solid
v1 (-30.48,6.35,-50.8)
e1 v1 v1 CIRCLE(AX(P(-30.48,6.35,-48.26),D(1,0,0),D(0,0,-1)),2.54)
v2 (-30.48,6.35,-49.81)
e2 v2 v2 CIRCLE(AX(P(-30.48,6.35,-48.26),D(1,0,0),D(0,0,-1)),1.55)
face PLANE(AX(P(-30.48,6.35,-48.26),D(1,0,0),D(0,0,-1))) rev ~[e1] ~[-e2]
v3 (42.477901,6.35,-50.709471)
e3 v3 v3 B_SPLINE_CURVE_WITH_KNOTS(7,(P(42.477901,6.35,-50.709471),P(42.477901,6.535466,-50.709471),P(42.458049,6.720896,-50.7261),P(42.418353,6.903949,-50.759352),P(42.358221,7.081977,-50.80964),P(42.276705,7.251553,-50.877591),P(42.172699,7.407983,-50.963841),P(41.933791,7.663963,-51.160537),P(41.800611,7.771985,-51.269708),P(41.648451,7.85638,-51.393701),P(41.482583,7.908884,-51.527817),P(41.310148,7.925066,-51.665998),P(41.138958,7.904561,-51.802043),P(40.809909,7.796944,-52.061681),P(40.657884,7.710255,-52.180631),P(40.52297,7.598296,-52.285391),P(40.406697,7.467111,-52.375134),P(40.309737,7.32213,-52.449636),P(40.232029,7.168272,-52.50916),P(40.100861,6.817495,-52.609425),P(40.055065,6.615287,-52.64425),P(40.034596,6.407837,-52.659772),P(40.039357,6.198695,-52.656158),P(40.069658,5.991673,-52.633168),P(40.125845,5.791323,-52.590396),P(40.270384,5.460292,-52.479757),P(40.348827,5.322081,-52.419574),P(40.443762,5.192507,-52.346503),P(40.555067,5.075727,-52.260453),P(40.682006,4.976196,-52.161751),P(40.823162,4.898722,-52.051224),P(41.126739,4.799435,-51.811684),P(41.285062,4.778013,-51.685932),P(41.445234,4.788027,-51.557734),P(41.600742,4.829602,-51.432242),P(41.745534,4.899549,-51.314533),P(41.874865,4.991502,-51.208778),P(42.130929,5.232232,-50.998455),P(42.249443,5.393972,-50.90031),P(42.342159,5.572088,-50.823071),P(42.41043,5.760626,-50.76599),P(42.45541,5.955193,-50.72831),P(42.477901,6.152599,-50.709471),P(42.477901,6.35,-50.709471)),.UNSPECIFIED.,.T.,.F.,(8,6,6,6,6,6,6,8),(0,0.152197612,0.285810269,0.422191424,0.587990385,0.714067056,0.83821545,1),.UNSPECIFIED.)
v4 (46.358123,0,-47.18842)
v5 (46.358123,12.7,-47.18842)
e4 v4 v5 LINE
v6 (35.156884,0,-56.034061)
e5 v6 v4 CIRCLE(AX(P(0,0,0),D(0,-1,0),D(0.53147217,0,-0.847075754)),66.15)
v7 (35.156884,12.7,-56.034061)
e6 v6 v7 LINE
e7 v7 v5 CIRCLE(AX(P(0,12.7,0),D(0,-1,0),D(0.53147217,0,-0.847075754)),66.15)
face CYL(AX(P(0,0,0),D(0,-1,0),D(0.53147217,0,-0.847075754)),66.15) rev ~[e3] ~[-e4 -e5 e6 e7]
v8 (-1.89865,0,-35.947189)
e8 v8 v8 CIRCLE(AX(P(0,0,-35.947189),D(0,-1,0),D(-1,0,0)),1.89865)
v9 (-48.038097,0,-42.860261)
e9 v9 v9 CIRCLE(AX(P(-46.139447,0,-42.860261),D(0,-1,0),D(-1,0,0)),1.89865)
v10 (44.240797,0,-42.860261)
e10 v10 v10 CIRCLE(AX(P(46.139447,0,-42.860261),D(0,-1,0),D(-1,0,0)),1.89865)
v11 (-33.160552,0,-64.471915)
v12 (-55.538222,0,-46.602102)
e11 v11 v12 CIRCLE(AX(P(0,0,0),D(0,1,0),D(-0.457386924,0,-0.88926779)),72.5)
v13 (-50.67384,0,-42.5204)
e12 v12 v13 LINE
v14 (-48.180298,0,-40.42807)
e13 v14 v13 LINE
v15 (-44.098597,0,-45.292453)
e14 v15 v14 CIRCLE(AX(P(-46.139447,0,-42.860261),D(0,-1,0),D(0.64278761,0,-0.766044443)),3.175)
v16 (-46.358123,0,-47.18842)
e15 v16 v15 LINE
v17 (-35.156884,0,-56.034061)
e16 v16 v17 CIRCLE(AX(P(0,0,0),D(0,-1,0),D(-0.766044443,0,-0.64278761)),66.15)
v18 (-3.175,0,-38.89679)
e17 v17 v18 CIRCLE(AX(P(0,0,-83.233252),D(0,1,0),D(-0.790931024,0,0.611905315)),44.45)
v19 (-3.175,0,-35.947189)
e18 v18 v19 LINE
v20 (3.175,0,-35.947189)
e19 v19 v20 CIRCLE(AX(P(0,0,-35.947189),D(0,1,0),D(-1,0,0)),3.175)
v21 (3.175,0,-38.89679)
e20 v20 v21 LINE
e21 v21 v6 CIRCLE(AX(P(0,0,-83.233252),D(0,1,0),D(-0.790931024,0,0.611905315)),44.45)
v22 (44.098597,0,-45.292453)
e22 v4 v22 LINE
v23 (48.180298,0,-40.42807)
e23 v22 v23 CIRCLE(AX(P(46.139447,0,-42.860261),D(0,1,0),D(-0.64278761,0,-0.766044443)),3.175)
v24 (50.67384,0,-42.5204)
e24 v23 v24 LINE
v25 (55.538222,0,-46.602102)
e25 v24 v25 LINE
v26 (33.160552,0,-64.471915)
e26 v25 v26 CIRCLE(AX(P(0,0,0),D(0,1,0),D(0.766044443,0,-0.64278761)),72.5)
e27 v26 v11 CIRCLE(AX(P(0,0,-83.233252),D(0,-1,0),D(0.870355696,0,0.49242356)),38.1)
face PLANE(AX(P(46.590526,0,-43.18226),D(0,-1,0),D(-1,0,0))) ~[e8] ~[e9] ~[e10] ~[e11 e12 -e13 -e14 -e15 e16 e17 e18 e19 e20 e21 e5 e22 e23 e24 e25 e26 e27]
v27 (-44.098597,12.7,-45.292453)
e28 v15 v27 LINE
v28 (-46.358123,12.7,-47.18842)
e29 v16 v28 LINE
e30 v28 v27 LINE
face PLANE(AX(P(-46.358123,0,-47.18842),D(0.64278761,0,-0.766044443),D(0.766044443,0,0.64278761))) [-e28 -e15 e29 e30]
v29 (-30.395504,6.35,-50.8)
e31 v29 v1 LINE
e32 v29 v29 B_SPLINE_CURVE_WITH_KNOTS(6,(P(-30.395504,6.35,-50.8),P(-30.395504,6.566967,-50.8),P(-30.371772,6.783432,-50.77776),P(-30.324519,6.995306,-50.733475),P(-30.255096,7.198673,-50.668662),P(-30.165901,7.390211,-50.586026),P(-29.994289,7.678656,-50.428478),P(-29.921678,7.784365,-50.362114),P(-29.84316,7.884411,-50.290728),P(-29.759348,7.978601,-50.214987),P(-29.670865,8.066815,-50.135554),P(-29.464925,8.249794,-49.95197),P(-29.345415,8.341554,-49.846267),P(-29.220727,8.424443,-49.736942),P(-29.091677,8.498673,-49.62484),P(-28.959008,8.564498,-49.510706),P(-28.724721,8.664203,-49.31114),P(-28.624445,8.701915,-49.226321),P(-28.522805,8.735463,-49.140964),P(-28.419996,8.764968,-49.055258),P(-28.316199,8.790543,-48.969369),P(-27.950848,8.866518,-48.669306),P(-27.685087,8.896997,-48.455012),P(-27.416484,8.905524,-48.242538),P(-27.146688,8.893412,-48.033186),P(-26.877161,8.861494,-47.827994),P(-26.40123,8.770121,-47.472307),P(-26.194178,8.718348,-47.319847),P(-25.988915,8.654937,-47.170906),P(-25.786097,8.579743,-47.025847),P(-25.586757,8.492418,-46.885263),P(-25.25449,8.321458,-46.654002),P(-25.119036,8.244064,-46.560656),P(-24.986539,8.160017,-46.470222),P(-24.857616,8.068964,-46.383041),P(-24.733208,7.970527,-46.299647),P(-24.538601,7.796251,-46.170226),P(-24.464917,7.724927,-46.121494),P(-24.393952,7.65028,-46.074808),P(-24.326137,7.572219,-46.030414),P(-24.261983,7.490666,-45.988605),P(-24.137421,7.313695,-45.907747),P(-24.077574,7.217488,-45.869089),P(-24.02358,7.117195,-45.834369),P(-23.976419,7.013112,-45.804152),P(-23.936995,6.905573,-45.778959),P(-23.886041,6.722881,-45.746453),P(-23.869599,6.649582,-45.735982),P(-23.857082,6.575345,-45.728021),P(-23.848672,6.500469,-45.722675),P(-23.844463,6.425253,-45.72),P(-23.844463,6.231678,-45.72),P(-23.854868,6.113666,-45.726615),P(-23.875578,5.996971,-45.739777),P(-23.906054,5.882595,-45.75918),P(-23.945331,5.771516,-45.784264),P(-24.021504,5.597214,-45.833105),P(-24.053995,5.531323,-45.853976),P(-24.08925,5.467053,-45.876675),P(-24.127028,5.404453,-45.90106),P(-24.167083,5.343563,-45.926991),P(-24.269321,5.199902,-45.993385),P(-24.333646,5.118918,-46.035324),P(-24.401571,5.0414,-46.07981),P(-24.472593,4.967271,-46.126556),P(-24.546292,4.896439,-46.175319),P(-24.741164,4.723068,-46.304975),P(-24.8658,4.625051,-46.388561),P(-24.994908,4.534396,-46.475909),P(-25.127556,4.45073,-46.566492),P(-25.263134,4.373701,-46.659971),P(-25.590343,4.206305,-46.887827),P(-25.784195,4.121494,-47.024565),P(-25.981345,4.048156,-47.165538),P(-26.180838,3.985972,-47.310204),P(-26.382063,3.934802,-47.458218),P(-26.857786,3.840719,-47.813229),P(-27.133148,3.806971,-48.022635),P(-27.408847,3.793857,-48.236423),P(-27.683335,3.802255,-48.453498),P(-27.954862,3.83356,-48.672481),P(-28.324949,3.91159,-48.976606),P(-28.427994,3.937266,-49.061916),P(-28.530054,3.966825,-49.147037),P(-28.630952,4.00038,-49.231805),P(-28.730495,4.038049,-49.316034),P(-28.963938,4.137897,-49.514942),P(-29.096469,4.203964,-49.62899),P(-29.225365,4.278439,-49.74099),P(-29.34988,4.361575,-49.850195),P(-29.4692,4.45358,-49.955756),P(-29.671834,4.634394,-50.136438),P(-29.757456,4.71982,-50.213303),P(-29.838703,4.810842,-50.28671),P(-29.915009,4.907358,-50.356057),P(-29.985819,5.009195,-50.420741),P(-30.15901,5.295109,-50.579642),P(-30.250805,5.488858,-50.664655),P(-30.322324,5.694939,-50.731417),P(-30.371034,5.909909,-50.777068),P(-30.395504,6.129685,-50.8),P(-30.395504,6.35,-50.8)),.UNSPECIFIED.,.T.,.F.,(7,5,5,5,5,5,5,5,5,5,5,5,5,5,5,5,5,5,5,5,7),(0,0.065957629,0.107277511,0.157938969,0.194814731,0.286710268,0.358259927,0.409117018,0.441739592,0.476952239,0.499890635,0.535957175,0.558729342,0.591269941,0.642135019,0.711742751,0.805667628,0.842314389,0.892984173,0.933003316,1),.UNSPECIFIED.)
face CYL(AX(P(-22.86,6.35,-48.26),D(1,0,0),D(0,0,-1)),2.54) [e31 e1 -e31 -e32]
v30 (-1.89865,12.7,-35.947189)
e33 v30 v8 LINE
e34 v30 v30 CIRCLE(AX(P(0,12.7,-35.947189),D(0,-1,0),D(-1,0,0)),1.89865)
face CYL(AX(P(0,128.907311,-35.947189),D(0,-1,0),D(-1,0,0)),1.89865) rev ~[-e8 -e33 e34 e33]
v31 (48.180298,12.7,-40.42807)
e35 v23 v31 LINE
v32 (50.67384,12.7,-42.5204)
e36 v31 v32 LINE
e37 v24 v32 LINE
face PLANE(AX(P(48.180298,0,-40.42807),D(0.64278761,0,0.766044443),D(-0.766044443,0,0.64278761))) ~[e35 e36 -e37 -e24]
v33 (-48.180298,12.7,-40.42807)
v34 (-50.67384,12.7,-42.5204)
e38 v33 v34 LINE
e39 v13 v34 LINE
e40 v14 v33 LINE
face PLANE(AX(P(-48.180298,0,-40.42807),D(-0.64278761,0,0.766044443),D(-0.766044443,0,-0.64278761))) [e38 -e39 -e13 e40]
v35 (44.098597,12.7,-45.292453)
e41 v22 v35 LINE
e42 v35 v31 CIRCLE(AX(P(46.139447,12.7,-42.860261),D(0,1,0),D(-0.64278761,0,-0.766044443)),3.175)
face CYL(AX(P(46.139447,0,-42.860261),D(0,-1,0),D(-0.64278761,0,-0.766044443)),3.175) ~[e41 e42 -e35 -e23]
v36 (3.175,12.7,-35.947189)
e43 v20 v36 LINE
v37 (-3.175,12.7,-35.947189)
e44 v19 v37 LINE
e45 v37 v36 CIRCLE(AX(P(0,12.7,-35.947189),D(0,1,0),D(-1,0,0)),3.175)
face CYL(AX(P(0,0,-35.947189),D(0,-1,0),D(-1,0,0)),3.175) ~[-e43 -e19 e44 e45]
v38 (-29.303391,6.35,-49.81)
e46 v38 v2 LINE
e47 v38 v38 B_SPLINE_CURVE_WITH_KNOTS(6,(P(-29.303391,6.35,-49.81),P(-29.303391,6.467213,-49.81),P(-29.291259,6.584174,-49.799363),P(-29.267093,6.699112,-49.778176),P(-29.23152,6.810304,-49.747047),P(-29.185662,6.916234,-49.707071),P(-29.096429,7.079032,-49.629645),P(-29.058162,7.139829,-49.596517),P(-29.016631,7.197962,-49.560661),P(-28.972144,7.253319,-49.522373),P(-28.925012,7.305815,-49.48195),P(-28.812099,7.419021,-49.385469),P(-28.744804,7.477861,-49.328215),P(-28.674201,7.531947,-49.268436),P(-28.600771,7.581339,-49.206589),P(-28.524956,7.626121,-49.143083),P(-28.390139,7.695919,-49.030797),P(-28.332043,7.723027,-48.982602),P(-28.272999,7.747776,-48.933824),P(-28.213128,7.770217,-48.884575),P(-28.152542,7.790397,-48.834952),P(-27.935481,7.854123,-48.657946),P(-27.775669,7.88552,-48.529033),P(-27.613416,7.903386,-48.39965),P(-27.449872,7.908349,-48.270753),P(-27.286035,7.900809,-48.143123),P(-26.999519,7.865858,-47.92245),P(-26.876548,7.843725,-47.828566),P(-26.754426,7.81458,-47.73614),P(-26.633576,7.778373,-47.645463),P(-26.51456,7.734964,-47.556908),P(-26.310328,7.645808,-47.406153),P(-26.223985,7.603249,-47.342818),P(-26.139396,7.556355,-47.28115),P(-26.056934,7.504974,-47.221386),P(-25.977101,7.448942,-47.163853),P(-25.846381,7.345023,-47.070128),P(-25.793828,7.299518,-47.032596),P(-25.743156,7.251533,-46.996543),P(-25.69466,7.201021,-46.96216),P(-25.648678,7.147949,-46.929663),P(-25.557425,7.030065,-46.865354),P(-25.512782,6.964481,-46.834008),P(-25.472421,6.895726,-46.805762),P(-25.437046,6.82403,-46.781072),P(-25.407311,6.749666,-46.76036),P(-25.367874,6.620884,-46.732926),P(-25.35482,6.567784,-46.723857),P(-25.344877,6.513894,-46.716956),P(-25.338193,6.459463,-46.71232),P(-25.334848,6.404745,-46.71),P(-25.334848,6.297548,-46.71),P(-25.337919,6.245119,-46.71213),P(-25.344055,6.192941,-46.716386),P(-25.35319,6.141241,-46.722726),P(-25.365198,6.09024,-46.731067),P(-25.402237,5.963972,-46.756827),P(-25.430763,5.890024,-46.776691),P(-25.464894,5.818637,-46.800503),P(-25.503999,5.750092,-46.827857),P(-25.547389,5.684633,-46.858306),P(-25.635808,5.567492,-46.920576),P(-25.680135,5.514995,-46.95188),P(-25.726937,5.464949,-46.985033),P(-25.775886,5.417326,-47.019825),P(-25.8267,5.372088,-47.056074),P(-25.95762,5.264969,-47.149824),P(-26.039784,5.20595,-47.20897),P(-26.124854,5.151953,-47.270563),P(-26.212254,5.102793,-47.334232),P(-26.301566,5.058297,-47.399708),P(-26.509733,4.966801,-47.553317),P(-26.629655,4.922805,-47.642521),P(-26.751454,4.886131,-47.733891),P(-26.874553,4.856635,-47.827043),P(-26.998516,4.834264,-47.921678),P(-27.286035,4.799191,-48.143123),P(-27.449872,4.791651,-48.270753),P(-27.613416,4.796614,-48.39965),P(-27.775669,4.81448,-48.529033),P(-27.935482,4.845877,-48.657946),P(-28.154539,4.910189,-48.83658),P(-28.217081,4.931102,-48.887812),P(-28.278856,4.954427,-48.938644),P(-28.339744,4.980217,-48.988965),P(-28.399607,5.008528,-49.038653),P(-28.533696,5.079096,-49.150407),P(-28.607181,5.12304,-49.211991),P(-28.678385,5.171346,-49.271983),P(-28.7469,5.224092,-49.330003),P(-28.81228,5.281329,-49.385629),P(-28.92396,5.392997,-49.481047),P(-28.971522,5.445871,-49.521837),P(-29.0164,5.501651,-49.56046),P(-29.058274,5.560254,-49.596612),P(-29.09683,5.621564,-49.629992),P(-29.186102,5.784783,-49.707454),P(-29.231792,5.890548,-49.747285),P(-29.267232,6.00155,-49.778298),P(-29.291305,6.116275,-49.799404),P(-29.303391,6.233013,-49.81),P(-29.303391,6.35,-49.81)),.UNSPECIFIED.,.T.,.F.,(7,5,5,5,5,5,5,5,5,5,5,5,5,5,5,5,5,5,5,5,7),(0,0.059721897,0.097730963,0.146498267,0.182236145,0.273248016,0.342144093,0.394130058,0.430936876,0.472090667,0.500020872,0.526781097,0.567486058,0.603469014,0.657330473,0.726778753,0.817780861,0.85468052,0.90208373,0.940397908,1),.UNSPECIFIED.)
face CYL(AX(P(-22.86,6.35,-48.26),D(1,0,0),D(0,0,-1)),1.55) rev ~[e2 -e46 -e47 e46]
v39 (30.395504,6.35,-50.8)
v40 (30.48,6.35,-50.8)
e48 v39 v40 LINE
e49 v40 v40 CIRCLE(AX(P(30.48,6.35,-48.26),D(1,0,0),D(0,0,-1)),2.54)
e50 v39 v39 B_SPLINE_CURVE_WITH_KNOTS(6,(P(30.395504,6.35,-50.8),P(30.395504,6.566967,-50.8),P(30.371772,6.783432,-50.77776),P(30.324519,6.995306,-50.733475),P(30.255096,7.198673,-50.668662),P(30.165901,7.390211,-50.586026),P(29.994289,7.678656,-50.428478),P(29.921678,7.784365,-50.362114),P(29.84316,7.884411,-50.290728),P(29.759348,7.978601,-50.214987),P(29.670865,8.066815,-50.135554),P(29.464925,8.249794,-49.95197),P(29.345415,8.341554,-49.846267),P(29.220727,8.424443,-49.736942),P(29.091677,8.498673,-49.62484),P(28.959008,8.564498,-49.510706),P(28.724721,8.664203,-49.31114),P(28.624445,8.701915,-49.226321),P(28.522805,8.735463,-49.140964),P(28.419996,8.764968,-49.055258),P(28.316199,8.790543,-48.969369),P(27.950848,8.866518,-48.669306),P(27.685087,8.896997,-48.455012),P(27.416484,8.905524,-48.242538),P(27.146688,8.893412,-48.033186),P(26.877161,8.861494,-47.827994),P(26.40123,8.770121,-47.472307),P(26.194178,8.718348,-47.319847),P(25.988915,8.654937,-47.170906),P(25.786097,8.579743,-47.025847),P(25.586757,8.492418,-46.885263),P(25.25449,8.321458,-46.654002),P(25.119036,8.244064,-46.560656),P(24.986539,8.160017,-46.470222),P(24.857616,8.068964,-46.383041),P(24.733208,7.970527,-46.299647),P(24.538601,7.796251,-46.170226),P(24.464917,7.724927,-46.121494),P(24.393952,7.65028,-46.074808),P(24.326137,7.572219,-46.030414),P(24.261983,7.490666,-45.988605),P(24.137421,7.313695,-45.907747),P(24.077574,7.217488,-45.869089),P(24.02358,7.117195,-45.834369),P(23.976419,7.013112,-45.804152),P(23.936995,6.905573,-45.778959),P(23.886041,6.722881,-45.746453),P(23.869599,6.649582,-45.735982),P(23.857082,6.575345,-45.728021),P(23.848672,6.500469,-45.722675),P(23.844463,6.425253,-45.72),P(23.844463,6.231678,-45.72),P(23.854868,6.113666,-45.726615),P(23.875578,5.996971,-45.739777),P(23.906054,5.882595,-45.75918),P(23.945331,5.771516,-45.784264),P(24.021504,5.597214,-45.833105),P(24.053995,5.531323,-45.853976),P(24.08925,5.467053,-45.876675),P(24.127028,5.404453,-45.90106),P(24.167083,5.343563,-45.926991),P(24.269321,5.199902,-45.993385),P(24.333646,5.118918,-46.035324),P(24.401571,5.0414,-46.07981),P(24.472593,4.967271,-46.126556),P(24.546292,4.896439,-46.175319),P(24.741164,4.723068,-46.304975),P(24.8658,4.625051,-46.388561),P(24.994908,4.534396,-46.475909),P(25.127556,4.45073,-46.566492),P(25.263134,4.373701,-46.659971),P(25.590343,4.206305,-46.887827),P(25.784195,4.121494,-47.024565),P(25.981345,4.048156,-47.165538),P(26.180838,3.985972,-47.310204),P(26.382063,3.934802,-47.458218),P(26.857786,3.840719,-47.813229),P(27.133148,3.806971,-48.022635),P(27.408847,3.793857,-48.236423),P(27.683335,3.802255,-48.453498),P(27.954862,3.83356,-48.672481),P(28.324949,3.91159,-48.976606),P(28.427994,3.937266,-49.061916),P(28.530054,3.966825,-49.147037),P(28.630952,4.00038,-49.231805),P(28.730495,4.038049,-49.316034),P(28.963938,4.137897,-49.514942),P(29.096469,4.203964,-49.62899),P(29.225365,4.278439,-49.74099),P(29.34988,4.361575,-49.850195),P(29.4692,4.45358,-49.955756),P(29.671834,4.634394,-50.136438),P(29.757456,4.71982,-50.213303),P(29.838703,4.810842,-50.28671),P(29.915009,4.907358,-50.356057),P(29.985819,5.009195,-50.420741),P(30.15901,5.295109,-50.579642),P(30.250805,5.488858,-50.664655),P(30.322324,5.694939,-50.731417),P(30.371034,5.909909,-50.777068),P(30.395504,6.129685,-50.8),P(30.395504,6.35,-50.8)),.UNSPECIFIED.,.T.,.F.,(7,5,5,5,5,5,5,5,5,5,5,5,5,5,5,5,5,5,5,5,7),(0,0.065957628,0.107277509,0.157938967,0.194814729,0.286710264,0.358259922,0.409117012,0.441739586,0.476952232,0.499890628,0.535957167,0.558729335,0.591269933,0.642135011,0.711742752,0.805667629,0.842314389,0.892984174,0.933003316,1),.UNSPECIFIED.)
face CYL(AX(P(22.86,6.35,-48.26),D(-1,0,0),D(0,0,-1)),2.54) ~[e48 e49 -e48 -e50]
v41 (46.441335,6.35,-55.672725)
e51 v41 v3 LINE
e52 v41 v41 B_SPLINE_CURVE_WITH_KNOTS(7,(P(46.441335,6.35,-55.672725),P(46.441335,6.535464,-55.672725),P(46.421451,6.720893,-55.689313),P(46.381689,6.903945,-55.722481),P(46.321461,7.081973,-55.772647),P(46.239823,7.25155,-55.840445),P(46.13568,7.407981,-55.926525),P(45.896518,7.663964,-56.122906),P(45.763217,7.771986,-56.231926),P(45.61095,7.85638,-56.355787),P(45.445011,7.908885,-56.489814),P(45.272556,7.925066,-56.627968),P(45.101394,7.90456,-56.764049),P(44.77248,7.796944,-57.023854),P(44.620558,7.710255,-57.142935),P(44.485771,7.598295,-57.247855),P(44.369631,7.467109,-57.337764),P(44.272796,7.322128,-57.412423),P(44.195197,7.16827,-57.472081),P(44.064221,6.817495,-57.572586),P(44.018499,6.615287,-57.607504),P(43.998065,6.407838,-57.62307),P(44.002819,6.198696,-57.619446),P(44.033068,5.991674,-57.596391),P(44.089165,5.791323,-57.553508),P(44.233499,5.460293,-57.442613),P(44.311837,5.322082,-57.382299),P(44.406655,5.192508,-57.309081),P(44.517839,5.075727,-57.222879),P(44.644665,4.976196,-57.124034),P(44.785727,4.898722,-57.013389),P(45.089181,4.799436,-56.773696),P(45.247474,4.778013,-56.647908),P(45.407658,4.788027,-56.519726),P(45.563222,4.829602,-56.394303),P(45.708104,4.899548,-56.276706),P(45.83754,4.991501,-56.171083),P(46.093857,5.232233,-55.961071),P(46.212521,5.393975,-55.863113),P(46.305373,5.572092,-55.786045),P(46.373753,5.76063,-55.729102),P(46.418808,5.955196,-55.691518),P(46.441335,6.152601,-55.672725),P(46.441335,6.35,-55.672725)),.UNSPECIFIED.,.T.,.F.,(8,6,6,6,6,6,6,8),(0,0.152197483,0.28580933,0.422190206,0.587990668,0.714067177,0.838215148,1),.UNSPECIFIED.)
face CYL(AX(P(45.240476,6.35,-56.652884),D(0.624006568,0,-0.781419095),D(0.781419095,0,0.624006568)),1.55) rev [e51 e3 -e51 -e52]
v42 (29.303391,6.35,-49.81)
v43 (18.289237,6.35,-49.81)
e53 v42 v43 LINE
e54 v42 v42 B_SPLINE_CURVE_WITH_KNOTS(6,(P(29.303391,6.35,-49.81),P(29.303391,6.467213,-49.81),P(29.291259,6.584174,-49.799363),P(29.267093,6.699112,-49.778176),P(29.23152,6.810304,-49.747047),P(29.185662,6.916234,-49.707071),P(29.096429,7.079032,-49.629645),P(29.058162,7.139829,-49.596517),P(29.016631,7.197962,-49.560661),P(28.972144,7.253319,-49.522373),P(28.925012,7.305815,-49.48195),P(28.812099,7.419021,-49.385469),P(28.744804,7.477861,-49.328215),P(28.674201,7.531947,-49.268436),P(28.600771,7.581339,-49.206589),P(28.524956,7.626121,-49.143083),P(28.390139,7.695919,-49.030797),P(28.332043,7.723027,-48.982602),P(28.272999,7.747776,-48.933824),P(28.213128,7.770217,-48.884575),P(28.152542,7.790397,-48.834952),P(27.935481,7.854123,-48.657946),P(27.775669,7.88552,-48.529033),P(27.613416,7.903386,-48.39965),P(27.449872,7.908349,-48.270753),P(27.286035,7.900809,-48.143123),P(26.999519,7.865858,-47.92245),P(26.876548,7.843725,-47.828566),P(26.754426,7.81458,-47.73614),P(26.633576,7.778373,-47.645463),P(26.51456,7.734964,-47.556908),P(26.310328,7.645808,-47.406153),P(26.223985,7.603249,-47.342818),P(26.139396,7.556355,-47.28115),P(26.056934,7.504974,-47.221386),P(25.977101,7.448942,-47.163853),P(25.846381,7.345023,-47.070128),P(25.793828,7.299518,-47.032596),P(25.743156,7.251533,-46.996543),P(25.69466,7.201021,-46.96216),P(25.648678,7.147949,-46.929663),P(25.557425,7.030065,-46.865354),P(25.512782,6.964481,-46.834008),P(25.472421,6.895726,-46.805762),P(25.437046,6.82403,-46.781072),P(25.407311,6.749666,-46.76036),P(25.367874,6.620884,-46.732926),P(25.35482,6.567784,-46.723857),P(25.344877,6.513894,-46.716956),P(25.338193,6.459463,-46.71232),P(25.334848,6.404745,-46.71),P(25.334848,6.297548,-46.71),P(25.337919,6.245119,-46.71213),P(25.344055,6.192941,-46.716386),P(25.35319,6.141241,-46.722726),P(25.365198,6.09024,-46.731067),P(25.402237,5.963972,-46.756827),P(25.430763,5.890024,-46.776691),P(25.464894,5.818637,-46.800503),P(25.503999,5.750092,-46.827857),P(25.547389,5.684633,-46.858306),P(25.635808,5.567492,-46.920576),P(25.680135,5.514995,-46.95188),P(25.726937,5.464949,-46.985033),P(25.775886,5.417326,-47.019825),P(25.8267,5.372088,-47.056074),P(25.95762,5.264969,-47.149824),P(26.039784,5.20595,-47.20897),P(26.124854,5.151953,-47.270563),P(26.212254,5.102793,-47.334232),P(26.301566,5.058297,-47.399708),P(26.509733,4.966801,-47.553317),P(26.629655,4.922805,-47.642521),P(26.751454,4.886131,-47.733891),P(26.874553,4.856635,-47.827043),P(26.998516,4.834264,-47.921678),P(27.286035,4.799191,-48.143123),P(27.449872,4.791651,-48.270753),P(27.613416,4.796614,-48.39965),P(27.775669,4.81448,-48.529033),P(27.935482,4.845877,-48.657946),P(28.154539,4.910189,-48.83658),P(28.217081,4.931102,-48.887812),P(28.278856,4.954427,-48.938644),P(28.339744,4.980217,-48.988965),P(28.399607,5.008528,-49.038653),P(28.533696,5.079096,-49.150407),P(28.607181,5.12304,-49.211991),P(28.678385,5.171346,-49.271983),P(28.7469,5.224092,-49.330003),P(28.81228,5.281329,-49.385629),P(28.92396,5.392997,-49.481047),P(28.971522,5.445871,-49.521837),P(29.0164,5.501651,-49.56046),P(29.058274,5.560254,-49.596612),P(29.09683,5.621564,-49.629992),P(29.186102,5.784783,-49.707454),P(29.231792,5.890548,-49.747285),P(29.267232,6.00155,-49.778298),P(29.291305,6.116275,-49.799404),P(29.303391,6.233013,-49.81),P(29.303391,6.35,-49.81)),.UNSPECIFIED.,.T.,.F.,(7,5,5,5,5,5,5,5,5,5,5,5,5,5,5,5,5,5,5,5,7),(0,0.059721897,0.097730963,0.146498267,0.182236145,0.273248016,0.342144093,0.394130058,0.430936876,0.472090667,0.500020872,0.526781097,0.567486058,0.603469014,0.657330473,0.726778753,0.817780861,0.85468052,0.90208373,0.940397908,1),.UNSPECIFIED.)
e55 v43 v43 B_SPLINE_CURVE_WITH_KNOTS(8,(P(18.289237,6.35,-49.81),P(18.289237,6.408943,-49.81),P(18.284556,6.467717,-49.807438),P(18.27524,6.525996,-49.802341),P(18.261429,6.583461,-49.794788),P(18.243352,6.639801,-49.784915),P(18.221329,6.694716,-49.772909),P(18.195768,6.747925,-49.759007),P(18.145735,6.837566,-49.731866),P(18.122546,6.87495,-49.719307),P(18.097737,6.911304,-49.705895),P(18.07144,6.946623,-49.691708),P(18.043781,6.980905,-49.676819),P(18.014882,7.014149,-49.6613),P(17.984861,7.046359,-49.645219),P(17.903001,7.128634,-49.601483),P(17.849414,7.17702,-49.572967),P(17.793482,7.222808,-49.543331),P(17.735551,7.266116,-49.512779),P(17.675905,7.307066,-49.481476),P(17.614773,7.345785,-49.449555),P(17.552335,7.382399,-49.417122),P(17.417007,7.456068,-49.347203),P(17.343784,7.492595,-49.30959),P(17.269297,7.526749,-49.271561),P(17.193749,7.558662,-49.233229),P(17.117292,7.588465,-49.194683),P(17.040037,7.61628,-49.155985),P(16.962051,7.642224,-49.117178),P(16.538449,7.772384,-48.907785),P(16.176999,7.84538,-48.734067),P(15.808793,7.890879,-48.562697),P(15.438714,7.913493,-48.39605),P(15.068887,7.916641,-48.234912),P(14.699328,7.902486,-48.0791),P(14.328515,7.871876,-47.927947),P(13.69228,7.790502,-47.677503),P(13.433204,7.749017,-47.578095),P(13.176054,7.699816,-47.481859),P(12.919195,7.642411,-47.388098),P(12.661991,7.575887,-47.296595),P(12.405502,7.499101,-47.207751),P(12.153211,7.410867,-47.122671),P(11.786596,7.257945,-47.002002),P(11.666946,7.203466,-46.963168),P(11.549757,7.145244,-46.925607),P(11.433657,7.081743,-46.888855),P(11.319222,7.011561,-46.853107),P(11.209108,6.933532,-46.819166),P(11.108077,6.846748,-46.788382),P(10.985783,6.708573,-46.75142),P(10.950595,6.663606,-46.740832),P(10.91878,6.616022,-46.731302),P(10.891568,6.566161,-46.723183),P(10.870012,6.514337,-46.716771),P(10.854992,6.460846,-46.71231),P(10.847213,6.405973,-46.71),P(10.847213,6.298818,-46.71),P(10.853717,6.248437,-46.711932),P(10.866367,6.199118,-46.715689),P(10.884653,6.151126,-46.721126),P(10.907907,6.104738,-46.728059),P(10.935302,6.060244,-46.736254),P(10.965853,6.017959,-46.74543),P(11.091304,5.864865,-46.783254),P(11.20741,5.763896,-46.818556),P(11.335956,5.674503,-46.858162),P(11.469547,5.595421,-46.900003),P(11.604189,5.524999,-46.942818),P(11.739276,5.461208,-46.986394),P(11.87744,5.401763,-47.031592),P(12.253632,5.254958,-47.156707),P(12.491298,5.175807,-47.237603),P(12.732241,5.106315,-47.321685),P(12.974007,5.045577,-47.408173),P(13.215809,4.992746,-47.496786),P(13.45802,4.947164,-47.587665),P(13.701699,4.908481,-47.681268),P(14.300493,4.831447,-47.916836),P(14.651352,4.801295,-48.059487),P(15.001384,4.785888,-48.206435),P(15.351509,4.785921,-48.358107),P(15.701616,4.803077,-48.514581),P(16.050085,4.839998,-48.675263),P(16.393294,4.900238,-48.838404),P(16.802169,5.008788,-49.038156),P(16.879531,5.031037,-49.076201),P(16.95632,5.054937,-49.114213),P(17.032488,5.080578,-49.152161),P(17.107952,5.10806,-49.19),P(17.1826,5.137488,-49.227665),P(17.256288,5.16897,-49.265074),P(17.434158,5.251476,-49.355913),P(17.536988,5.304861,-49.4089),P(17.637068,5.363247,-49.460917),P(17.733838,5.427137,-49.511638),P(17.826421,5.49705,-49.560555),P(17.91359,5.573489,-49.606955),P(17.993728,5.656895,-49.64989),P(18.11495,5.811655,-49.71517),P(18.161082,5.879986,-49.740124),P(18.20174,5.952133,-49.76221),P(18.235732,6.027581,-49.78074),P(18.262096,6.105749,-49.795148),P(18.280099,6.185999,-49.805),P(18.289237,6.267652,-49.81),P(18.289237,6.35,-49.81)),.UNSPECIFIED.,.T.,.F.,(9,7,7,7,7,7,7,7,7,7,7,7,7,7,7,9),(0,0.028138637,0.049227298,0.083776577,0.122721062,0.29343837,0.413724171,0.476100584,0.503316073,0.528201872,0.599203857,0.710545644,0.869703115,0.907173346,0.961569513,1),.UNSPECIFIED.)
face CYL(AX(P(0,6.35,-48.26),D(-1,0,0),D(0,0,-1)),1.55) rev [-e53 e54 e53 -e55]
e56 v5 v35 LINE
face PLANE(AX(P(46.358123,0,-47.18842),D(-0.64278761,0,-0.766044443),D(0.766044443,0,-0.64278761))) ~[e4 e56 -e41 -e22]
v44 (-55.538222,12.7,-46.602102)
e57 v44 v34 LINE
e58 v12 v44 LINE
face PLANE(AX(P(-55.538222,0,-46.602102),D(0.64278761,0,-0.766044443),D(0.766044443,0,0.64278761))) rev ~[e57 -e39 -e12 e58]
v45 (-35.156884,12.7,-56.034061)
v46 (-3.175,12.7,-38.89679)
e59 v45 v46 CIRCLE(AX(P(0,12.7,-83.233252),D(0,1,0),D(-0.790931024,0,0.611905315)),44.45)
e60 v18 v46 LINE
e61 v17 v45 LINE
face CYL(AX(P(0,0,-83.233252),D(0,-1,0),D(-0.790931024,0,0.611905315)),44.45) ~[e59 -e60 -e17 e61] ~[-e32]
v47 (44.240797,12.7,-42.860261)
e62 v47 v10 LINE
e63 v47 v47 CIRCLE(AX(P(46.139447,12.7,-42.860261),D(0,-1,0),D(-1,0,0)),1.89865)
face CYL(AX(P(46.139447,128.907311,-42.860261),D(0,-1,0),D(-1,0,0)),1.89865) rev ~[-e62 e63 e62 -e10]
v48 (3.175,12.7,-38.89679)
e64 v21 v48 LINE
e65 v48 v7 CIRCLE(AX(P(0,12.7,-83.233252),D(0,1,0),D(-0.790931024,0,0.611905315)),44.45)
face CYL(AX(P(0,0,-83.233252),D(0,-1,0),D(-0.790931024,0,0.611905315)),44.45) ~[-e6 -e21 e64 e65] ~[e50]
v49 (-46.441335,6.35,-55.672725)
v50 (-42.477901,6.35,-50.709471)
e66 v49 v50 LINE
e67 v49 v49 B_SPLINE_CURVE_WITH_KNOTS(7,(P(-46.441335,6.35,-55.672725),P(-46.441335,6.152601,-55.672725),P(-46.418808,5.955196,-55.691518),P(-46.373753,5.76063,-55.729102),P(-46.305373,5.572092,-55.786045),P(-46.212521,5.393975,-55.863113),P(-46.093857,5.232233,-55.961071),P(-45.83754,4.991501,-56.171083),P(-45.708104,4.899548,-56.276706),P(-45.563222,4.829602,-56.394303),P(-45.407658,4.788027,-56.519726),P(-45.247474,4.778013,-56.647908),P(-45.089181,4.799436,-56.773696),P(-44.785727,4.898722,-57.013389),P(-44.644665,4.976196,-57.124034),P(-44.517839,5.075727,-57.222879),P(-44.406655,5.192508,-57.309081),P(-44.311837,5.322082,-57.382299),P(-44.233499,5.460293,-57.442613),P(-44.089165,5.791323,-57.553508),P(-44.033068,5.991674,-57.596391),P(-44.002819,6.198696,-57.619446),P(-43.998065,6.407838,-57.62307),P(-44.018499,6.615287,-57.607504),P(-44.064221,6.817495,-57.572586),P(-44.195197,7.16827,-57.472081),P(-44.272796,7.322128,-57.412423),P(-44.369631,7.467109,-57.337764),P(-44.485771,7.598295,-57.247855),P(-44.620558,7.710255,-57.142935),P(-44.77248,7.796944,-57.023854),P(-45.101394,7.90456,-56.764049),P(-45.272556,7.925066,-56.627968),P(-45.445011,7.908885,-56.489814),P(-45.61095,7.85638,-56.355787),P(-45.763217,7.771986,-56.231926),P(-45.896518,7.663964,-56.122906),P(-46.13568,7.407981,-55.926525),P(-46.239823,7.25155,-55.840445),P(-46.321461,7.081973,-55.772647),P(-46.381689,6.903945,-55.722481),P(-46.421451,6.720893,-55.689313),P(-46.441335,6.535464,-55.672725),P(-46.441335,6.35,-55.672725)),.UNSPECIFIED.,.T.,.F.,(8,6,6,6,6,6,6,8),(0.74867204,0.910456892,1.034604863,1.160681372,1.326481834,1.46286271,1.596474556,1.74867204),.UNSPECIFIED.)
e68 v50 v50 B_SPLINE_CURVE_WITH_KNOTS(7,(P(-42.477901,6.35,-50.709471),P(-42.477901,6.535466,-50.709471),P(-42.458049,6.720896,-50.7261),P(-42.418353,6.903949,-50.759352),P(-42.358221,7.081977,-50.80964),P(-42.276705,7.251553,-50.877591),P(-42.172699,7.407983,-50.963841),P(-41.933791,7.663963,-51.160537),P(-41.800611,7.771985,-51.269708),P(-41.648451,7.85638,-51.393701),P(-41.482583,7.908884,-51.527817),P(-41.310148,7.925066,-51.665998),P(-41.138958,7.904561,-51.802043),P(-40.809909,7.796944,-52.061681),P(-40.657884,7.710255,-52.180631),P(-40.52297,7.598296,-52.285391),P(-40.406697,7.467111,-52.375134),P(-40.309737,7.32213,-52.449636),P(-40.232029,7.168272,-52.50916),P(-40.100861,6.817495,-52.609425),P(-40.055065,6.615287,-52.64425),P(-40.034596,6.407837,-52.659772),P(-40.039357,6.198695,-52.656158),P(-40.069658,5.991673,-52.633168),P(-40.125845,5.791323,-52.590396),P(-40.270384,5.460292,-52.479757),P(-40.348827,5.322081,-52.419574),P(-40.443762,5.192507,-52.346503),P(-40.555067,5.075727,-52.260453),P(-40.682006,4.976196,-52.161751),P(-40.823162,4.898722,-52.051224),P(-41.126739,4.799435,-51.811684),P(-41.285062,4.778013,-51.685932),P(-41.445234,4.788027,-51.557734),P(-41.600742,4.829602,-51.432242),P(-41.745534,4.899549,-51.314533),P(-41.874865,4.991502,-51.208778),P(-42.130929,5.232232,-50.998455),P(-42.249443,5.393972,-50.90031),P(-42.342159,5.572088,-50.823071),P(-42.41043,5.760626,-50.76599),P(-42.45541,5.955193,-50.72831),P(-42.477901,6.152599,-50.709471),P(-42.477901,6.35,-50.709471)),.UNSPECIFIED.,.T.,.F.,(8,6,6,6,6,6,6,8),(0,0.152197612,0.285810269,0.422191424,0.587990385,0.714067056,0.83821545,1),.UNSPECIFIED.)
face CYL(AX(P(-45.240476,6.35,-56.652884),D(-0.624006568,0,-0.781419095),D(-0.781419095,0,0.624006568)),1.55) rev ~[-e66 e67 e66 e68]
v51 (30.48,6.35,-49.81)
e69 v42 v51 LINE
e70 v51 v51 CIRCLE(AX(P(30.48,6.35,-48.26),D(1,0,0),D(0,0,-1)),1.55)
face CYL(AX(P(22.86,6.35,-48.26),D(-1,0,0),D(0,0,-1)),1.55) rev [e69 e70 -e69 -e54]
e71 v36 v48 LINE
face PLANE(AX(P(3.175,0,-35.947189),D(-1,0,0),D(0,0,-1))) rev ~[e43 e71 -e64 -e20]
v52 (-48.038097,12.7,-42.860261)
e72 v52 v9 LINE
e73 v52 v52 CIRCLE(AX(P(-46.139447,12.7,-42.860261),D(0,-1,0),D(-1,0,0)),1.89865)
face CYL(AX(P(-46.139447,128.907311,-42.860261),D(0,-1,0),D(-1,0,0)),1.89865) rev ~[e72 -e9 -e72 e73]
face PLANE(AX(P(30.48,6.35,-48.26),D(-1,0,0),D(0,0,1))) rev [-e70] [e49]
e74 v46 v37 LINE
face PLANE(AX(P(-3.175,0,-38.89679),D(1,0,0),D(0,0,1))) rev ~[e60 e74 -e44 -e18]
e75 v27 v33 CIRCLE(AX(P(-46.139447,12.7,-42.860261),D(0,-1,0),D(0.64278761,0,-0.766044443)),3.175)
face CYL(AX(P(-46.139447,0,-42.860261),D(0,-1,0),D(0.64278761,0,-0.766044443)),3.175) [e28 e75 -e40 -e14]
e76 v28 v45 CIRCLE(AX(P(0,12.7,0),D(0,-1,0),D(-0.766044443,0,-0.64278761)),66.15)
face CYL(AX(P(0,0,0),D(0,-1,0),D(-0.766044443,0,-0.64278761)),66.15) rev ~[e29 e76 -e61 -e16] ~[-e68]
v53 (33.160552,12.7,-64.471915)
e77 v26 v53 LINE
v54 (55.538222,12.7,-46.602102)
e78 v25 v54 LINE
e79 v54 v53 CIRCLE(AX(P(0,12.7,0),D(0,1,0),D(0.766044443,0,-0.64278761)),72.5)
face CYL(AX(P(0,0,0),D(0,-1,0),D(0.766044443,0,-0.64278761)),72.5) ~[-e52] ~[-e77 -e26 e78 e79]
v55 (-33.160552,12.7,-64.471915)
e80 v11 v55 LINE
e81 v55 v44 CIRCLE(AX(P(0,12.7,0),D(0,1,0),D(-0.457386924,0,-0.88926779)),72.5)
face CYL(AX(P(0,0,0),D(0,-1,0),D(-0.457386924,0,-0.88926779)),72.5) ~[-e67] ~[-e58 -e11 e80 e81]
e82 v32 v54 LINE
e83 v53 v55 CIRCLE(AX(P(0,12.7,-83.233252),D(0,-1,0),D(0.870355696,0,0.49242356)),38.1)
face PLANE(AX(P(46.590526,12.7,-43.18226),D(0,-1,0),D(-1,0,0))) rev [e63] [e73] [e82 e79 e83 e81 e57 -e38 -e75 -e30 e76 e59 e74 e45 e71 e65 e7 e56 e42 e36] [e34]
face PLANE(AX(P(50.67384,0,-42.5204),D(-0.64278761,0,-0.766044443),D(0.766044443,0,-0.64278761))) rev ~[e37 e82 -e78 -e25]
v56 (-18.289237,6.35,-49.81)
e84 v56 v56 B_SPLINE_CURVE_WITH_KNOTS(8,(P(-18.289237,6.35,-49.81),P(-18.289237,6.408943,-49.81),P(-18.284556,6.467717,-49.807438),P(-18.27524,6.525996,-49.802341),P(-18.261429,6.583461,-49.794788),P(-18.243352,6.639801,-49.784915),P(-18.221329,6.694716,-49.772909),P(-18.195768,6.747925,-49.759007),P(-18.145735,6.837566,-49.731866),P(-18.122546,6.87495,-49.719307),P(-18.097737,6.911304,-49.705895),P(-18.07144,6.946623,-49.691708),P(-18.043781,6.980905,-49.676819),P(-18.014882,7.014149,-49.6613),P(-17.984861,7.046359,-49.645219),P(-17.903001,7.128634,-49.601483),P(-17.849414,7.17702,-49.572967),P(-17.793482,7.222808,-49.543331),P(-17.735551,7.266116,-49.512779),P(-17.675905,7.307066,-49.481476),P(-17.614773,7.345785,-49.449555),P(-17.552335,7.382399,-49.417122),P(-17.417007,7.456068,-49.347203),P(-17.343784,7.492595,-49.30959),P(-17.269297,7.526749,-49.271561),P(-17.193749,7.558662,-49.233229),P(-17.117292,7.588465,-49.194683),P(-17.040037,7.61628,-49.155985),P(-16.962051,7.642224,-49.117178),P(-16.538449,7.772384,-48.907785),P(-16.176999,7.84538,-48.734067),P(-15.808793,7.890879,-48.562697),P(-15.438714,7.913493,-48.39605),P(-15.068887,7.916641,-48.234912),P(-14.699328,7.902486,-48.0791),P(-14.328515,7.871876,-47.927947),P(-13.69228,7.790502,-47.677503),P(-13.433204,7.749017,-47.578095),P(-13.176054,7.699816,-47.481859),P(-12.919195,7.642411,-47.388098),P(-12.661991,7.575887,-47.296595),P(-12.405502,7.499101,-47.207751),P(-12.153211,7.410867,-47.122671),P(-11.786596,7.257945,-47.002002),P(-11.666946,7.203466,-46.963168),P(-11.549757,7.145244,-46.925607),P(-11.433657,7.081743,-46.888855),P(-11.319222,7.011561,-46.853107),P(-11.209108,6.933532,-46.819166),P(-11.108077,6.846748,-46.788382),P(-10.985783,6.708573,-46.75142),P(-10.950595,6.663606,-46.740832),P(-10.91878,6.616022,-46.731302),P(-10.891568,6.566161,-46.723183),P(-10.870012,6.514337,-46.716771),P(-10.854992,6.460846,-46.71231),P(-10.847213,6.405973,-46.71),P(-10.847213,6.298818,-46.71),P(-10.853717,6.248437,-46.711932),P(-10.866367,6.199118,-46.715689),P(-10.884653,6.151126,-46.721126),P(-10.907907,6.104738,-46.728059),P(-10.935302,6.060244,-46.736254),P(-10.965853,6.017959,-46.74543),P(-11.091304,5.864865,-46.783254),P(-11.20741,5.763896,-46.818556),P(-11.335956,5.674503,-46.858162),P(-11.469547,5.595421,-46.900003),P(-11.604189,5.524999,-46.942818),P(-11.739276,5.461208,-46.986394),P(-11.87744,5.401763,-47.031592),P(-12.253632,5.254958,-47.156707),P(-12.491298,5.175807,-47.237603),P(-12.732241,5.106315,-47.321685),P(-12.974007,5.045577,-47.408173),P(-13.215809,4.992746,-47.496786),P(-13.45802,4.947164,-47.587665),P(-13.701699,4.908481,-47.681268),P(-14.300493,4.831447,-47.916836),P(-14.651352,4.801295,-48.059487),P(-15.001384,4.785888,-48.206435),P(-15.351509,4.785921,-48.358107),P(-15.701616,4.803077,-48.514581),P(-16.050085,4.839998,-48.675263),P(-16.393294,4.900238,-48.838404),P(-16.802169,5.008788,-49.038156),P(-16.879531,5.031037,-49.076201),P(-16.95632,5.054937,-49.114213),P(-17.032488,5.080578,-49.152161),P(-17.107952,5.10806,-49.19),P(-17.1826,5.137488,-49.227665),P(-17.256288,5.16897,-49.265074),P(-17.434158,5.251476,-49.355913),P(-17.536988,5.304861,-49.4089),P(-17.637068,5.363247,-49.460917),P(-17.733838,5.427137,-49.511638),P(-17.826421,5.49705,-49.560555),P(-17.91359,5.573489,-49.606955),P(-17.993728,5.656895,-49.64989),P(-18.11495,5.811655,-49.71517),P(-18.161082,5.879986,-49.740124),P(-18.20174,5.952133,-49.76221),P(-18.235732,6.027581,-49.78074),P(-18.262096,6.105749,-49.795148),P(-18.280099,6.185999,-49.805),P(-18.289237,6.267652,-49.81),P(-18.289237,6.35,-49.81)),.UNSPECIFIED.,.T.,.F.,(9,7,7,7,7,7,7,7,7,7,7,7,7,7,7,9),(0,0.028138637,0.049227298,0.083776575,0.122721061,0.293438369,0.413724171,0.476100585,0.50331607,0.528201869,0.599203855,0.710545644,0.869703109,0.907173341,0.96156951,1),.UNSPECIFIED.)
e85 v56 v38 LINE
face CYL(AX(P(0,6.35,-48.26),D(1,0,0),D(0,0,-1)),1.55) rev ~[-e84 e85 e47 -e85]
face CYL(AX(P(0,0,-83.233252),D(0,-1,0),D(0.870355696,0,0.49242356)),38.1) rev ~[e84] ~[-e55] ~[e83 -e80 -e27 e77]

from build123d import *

# Parameters (mm, degrees)
BOSS_EXTRUDE1_DEPTH     = 12.7
CUT_EXTRUDE1_REACH      = 105.136
CUT_EXTRUDE1_END_RADIUS = 66.15
SKETCH4_R               = 1.55
BOSS_EXTRUDE2_START     = -12.7
BOSS_EXTRUDE2_DEPTH     = 12.7
BOSS_EXTRUDE4_START     = -12.7
BOSS_EXTRUDE4_DEPTH     = 12.7
CUT_EXTRUDE2_REACH      = 88.037
CUT_EXTRUDE2_END_RADIUS = 44.45
SKETCH9_R               = 1.55
BOSS_EXTRUDE3_START     = -22.86
SKETCH9_3_R             = 2.54
SKETCH9_3_R_2           = 1.55
BOSS_EXTRUDE3_DEPTH     = 7.62
F_6_CLEARANCE_HOLE1_D   = 3.7973


with BuildPart() as part:
    # Sketch1 → Boss-Extrude1 (new body)
    with BuildSketch(Plane(origin=(0, 0, 0), x_dir=(1, 0, 0), z_dir=(0, 1, 0))):
        with BuildLine():
            ThreePointArc((-33.160552015, 64.471914738), (-45.240476214, 56.65288441), (-55.538222126, 46.602101702))
            Line((-55.538222126, 46.602101702), (-50.673839912, 42.520400381))
            ThreePointArc((-50.673839912, 42.520400381), (-43.444022026, 49.884260546), (-35.15688403, 56.034061117))
            ThreePointArc((-35.15688403, 56.034061117), (0, 38.783252378), (35.15688403, 56.034061117))
            ThreePointArc((35.15688403, 56.034061117), (43.444022026, 49.884260546), (50.673839912, 42.520400381))
            Line((50.673839912, 42.520400381), (55.538222126, 46.602101702))
            ThreePointArc((55.538222126, 46.602101702), (45.240476214, 56.65288441), (33.160552015, 64.471914738))
            ThreePointArc((33.160552015, 64.471914738), (0, 45.133252378), (-33.160552015, 64.471914738))
        make_face()
    extrude(amount=BOSS_EXTRUDE1_DEPTH)

    # Cut-Extrude1: up to this cylinder (the profile starts outside it)
    cut_extrude1_end = Plane(origin=(0, 6.35, 0), z_dir=(0, -1, 0)) * Cylinder(CUT_EXTRUDE1_END_RADIUS, 343.572, mode=Mode.PRIVATE)
    # Sketch4 → Cut-Extrude1 (cut, up to the surface)
    with BuildSketch(Plane(origin=(-45.240476214, 12.7, -56.65288441), x_dir=(-0.7814190953093677, 0, 0.6240065684637377), z_dir=(-0.6240065684637377, 0, -0.7814190953093677)), mode=Mode.PRIVATE) as cut_extrude1_sk1:
        with Locations((0, -6.35)):
            Circle(SKETCH4_R)
    cut_extrude1_tool1 = extrude(cut_extrude1_sk1.sketch, amount=-CUT_EXTRUDE1_REACH, mode=Mode.PRIVATE) - cut_extrude1_end
    cut_extrude1 = cut_extrude1_tool1.solids().sort_by_distance((-45.240476, 6.35, -56.652884))[0]
    add(cut_extrude1, mode=Mode.SUBTRACT)

    # Sketch5 → Boss-Extrude2 (add)
    with BuildSketch(Plane(origin=(0, 12.7, 0), x_dir=(1, 0, 0), z_dir=(0, 1, 0)).offset(BOSS_EXTRUDE2_START)):
        with BuildLine():
            Line((-48.180298109, 40.428070373), (-50.673839912, 42.520400381))
            ThreePointArc((-50.673839912, 42.520400381), (-48.57209115, 44.906285321), (-46.358122599, 47.188419862))
            Line((-46.358122599, 47.188419862), (-44.098596788, 45.292452587))
            ThreePointArc((-44.098596788, 45.292452587), (-43.707256341, 40.81941082), (-48.180298109, 40.428070373))
        make_face()
    boss_extrude2 = extrude(amount=BOSS_EXTRUDE2_DEPTH)

    # Sketch10 → Boss-Extrude4 (add)
    with BuildSketch(Plane(origin=(0, 12.7, 0), x_dir=(1, 0, 0), z_dir=(0, 1, 0)).offset(BOSS_EXTRUDE4_START)):
        with BuildLine():
            Line((-3.175, 38.896790239), (-3.175, 35.947188775))
            ThreePointArc((-3.175, 35.947188775), (0, 32.772188775), (3.175, 35.947188775))
            Line((3.175, 35.947188775), (3.175, 38.896790239))
            ThreePointArc((3.175, 38.896790239), (0, 38.783252378), (-3.175, 38.896790239))
        make_face()
    extrude(amount=BOSS_EXTRUDE4_DEPTH)

    # Cut-Extrude2: up to this cylinder (the profile starts inside it)
    cut_extrude2_end = Plane(origin=(0, 6.35, -83.233252378), z_dir=(0, -1, 0)) * Cylinder(CUT_EXTRUDE2_END_RADIUS, 265.974, mode=Mode.PRIVATE)
    # Sketch9 → Cut-Extrude2 (cut, up to the surface)
    with BuildSketch(Plane(origin=(0, 0, 0), x_dir=(0, 0, -1), z_dir=(1, 0, 0)), mode=Mode.PRIVATE) as cut_extrude2_sk1:
        with Locations((48.26, 6.35)):
            Circle(SKETCH9_R)
    cut_extrude2_tool1 = extrude(cut_extrude2_sk1.sketch, amount=-CUT_EXTRUDE2_REACH, mode=Mode.PRIVATE) & cut_extrude2_end
    cut_extrude2 = cut_extrude2_tool1.solids().sort_by_distance((0, 6.35, -48.26))[0]
    add(cut_extrude2, mode=Mode.SUBTRACT)

    # Sketch9<3> → Boss-Extrude3 (add)
    with BuildSketch(Plane(origin=(0, 0, 0), x_dir=(0, 0, -1), z_dir=(1, 0, 0)).offset(BOSS_EXTRUDE3_START)):
        with Locations((48.26, 6.35)):
            Circle(SKETCH9_3_R)
        with Locations((48.26, 6.35)):
            Circle(SKETCH9_3_R_2, mode=Mode.SUBTRACT)
    boss_extrude3 = extrude(amount=-BOSS_EXTRUDE3_DEPTH)

    # Mirror1: Cut-Extrude1, Boss-Extrude2, Cut-Extrude2, Boss-Extrude3 across plane
    add(cut_extrude1.mirror(Plane(origin=(0, 0, 0), x_dir=(0, 0, 1), z_dir=(1, 0, 0))), mode=Mode.SUBTRACT)
    add(boss_extrude2.mirror(Plane(origin=(0, 0, 0), x_dir=(0, 0, 1), z_dir=(1, 0, 0))))
    add(cut_extrude2.mirror(Plane(origin=(0, 0, 0), x_dir=(0, 0, 1), z_dir=(1, 0, 0))), mode=Mode.SUBTRACT)
    add(boss_extrude3.mirror(Plane(origin=(0, 0, 0), x_dir=(0, 0, 1), z_dir=(1, 0, 0))))

    # #6 Clearance Hole1 (through all)
    with Locations(Plane(origin=(0, 12.7, 0), x_dir=(1, 0, 0), z_dir=(0, 1, 0))):
        with Locations((-46.139447448, 42.86026148), (46.139447448, 42.86026148), (0, 35.947188775)):
            Hole(F_6_CLEARANCE_HOLE1_D / 2)


solid = part.part
